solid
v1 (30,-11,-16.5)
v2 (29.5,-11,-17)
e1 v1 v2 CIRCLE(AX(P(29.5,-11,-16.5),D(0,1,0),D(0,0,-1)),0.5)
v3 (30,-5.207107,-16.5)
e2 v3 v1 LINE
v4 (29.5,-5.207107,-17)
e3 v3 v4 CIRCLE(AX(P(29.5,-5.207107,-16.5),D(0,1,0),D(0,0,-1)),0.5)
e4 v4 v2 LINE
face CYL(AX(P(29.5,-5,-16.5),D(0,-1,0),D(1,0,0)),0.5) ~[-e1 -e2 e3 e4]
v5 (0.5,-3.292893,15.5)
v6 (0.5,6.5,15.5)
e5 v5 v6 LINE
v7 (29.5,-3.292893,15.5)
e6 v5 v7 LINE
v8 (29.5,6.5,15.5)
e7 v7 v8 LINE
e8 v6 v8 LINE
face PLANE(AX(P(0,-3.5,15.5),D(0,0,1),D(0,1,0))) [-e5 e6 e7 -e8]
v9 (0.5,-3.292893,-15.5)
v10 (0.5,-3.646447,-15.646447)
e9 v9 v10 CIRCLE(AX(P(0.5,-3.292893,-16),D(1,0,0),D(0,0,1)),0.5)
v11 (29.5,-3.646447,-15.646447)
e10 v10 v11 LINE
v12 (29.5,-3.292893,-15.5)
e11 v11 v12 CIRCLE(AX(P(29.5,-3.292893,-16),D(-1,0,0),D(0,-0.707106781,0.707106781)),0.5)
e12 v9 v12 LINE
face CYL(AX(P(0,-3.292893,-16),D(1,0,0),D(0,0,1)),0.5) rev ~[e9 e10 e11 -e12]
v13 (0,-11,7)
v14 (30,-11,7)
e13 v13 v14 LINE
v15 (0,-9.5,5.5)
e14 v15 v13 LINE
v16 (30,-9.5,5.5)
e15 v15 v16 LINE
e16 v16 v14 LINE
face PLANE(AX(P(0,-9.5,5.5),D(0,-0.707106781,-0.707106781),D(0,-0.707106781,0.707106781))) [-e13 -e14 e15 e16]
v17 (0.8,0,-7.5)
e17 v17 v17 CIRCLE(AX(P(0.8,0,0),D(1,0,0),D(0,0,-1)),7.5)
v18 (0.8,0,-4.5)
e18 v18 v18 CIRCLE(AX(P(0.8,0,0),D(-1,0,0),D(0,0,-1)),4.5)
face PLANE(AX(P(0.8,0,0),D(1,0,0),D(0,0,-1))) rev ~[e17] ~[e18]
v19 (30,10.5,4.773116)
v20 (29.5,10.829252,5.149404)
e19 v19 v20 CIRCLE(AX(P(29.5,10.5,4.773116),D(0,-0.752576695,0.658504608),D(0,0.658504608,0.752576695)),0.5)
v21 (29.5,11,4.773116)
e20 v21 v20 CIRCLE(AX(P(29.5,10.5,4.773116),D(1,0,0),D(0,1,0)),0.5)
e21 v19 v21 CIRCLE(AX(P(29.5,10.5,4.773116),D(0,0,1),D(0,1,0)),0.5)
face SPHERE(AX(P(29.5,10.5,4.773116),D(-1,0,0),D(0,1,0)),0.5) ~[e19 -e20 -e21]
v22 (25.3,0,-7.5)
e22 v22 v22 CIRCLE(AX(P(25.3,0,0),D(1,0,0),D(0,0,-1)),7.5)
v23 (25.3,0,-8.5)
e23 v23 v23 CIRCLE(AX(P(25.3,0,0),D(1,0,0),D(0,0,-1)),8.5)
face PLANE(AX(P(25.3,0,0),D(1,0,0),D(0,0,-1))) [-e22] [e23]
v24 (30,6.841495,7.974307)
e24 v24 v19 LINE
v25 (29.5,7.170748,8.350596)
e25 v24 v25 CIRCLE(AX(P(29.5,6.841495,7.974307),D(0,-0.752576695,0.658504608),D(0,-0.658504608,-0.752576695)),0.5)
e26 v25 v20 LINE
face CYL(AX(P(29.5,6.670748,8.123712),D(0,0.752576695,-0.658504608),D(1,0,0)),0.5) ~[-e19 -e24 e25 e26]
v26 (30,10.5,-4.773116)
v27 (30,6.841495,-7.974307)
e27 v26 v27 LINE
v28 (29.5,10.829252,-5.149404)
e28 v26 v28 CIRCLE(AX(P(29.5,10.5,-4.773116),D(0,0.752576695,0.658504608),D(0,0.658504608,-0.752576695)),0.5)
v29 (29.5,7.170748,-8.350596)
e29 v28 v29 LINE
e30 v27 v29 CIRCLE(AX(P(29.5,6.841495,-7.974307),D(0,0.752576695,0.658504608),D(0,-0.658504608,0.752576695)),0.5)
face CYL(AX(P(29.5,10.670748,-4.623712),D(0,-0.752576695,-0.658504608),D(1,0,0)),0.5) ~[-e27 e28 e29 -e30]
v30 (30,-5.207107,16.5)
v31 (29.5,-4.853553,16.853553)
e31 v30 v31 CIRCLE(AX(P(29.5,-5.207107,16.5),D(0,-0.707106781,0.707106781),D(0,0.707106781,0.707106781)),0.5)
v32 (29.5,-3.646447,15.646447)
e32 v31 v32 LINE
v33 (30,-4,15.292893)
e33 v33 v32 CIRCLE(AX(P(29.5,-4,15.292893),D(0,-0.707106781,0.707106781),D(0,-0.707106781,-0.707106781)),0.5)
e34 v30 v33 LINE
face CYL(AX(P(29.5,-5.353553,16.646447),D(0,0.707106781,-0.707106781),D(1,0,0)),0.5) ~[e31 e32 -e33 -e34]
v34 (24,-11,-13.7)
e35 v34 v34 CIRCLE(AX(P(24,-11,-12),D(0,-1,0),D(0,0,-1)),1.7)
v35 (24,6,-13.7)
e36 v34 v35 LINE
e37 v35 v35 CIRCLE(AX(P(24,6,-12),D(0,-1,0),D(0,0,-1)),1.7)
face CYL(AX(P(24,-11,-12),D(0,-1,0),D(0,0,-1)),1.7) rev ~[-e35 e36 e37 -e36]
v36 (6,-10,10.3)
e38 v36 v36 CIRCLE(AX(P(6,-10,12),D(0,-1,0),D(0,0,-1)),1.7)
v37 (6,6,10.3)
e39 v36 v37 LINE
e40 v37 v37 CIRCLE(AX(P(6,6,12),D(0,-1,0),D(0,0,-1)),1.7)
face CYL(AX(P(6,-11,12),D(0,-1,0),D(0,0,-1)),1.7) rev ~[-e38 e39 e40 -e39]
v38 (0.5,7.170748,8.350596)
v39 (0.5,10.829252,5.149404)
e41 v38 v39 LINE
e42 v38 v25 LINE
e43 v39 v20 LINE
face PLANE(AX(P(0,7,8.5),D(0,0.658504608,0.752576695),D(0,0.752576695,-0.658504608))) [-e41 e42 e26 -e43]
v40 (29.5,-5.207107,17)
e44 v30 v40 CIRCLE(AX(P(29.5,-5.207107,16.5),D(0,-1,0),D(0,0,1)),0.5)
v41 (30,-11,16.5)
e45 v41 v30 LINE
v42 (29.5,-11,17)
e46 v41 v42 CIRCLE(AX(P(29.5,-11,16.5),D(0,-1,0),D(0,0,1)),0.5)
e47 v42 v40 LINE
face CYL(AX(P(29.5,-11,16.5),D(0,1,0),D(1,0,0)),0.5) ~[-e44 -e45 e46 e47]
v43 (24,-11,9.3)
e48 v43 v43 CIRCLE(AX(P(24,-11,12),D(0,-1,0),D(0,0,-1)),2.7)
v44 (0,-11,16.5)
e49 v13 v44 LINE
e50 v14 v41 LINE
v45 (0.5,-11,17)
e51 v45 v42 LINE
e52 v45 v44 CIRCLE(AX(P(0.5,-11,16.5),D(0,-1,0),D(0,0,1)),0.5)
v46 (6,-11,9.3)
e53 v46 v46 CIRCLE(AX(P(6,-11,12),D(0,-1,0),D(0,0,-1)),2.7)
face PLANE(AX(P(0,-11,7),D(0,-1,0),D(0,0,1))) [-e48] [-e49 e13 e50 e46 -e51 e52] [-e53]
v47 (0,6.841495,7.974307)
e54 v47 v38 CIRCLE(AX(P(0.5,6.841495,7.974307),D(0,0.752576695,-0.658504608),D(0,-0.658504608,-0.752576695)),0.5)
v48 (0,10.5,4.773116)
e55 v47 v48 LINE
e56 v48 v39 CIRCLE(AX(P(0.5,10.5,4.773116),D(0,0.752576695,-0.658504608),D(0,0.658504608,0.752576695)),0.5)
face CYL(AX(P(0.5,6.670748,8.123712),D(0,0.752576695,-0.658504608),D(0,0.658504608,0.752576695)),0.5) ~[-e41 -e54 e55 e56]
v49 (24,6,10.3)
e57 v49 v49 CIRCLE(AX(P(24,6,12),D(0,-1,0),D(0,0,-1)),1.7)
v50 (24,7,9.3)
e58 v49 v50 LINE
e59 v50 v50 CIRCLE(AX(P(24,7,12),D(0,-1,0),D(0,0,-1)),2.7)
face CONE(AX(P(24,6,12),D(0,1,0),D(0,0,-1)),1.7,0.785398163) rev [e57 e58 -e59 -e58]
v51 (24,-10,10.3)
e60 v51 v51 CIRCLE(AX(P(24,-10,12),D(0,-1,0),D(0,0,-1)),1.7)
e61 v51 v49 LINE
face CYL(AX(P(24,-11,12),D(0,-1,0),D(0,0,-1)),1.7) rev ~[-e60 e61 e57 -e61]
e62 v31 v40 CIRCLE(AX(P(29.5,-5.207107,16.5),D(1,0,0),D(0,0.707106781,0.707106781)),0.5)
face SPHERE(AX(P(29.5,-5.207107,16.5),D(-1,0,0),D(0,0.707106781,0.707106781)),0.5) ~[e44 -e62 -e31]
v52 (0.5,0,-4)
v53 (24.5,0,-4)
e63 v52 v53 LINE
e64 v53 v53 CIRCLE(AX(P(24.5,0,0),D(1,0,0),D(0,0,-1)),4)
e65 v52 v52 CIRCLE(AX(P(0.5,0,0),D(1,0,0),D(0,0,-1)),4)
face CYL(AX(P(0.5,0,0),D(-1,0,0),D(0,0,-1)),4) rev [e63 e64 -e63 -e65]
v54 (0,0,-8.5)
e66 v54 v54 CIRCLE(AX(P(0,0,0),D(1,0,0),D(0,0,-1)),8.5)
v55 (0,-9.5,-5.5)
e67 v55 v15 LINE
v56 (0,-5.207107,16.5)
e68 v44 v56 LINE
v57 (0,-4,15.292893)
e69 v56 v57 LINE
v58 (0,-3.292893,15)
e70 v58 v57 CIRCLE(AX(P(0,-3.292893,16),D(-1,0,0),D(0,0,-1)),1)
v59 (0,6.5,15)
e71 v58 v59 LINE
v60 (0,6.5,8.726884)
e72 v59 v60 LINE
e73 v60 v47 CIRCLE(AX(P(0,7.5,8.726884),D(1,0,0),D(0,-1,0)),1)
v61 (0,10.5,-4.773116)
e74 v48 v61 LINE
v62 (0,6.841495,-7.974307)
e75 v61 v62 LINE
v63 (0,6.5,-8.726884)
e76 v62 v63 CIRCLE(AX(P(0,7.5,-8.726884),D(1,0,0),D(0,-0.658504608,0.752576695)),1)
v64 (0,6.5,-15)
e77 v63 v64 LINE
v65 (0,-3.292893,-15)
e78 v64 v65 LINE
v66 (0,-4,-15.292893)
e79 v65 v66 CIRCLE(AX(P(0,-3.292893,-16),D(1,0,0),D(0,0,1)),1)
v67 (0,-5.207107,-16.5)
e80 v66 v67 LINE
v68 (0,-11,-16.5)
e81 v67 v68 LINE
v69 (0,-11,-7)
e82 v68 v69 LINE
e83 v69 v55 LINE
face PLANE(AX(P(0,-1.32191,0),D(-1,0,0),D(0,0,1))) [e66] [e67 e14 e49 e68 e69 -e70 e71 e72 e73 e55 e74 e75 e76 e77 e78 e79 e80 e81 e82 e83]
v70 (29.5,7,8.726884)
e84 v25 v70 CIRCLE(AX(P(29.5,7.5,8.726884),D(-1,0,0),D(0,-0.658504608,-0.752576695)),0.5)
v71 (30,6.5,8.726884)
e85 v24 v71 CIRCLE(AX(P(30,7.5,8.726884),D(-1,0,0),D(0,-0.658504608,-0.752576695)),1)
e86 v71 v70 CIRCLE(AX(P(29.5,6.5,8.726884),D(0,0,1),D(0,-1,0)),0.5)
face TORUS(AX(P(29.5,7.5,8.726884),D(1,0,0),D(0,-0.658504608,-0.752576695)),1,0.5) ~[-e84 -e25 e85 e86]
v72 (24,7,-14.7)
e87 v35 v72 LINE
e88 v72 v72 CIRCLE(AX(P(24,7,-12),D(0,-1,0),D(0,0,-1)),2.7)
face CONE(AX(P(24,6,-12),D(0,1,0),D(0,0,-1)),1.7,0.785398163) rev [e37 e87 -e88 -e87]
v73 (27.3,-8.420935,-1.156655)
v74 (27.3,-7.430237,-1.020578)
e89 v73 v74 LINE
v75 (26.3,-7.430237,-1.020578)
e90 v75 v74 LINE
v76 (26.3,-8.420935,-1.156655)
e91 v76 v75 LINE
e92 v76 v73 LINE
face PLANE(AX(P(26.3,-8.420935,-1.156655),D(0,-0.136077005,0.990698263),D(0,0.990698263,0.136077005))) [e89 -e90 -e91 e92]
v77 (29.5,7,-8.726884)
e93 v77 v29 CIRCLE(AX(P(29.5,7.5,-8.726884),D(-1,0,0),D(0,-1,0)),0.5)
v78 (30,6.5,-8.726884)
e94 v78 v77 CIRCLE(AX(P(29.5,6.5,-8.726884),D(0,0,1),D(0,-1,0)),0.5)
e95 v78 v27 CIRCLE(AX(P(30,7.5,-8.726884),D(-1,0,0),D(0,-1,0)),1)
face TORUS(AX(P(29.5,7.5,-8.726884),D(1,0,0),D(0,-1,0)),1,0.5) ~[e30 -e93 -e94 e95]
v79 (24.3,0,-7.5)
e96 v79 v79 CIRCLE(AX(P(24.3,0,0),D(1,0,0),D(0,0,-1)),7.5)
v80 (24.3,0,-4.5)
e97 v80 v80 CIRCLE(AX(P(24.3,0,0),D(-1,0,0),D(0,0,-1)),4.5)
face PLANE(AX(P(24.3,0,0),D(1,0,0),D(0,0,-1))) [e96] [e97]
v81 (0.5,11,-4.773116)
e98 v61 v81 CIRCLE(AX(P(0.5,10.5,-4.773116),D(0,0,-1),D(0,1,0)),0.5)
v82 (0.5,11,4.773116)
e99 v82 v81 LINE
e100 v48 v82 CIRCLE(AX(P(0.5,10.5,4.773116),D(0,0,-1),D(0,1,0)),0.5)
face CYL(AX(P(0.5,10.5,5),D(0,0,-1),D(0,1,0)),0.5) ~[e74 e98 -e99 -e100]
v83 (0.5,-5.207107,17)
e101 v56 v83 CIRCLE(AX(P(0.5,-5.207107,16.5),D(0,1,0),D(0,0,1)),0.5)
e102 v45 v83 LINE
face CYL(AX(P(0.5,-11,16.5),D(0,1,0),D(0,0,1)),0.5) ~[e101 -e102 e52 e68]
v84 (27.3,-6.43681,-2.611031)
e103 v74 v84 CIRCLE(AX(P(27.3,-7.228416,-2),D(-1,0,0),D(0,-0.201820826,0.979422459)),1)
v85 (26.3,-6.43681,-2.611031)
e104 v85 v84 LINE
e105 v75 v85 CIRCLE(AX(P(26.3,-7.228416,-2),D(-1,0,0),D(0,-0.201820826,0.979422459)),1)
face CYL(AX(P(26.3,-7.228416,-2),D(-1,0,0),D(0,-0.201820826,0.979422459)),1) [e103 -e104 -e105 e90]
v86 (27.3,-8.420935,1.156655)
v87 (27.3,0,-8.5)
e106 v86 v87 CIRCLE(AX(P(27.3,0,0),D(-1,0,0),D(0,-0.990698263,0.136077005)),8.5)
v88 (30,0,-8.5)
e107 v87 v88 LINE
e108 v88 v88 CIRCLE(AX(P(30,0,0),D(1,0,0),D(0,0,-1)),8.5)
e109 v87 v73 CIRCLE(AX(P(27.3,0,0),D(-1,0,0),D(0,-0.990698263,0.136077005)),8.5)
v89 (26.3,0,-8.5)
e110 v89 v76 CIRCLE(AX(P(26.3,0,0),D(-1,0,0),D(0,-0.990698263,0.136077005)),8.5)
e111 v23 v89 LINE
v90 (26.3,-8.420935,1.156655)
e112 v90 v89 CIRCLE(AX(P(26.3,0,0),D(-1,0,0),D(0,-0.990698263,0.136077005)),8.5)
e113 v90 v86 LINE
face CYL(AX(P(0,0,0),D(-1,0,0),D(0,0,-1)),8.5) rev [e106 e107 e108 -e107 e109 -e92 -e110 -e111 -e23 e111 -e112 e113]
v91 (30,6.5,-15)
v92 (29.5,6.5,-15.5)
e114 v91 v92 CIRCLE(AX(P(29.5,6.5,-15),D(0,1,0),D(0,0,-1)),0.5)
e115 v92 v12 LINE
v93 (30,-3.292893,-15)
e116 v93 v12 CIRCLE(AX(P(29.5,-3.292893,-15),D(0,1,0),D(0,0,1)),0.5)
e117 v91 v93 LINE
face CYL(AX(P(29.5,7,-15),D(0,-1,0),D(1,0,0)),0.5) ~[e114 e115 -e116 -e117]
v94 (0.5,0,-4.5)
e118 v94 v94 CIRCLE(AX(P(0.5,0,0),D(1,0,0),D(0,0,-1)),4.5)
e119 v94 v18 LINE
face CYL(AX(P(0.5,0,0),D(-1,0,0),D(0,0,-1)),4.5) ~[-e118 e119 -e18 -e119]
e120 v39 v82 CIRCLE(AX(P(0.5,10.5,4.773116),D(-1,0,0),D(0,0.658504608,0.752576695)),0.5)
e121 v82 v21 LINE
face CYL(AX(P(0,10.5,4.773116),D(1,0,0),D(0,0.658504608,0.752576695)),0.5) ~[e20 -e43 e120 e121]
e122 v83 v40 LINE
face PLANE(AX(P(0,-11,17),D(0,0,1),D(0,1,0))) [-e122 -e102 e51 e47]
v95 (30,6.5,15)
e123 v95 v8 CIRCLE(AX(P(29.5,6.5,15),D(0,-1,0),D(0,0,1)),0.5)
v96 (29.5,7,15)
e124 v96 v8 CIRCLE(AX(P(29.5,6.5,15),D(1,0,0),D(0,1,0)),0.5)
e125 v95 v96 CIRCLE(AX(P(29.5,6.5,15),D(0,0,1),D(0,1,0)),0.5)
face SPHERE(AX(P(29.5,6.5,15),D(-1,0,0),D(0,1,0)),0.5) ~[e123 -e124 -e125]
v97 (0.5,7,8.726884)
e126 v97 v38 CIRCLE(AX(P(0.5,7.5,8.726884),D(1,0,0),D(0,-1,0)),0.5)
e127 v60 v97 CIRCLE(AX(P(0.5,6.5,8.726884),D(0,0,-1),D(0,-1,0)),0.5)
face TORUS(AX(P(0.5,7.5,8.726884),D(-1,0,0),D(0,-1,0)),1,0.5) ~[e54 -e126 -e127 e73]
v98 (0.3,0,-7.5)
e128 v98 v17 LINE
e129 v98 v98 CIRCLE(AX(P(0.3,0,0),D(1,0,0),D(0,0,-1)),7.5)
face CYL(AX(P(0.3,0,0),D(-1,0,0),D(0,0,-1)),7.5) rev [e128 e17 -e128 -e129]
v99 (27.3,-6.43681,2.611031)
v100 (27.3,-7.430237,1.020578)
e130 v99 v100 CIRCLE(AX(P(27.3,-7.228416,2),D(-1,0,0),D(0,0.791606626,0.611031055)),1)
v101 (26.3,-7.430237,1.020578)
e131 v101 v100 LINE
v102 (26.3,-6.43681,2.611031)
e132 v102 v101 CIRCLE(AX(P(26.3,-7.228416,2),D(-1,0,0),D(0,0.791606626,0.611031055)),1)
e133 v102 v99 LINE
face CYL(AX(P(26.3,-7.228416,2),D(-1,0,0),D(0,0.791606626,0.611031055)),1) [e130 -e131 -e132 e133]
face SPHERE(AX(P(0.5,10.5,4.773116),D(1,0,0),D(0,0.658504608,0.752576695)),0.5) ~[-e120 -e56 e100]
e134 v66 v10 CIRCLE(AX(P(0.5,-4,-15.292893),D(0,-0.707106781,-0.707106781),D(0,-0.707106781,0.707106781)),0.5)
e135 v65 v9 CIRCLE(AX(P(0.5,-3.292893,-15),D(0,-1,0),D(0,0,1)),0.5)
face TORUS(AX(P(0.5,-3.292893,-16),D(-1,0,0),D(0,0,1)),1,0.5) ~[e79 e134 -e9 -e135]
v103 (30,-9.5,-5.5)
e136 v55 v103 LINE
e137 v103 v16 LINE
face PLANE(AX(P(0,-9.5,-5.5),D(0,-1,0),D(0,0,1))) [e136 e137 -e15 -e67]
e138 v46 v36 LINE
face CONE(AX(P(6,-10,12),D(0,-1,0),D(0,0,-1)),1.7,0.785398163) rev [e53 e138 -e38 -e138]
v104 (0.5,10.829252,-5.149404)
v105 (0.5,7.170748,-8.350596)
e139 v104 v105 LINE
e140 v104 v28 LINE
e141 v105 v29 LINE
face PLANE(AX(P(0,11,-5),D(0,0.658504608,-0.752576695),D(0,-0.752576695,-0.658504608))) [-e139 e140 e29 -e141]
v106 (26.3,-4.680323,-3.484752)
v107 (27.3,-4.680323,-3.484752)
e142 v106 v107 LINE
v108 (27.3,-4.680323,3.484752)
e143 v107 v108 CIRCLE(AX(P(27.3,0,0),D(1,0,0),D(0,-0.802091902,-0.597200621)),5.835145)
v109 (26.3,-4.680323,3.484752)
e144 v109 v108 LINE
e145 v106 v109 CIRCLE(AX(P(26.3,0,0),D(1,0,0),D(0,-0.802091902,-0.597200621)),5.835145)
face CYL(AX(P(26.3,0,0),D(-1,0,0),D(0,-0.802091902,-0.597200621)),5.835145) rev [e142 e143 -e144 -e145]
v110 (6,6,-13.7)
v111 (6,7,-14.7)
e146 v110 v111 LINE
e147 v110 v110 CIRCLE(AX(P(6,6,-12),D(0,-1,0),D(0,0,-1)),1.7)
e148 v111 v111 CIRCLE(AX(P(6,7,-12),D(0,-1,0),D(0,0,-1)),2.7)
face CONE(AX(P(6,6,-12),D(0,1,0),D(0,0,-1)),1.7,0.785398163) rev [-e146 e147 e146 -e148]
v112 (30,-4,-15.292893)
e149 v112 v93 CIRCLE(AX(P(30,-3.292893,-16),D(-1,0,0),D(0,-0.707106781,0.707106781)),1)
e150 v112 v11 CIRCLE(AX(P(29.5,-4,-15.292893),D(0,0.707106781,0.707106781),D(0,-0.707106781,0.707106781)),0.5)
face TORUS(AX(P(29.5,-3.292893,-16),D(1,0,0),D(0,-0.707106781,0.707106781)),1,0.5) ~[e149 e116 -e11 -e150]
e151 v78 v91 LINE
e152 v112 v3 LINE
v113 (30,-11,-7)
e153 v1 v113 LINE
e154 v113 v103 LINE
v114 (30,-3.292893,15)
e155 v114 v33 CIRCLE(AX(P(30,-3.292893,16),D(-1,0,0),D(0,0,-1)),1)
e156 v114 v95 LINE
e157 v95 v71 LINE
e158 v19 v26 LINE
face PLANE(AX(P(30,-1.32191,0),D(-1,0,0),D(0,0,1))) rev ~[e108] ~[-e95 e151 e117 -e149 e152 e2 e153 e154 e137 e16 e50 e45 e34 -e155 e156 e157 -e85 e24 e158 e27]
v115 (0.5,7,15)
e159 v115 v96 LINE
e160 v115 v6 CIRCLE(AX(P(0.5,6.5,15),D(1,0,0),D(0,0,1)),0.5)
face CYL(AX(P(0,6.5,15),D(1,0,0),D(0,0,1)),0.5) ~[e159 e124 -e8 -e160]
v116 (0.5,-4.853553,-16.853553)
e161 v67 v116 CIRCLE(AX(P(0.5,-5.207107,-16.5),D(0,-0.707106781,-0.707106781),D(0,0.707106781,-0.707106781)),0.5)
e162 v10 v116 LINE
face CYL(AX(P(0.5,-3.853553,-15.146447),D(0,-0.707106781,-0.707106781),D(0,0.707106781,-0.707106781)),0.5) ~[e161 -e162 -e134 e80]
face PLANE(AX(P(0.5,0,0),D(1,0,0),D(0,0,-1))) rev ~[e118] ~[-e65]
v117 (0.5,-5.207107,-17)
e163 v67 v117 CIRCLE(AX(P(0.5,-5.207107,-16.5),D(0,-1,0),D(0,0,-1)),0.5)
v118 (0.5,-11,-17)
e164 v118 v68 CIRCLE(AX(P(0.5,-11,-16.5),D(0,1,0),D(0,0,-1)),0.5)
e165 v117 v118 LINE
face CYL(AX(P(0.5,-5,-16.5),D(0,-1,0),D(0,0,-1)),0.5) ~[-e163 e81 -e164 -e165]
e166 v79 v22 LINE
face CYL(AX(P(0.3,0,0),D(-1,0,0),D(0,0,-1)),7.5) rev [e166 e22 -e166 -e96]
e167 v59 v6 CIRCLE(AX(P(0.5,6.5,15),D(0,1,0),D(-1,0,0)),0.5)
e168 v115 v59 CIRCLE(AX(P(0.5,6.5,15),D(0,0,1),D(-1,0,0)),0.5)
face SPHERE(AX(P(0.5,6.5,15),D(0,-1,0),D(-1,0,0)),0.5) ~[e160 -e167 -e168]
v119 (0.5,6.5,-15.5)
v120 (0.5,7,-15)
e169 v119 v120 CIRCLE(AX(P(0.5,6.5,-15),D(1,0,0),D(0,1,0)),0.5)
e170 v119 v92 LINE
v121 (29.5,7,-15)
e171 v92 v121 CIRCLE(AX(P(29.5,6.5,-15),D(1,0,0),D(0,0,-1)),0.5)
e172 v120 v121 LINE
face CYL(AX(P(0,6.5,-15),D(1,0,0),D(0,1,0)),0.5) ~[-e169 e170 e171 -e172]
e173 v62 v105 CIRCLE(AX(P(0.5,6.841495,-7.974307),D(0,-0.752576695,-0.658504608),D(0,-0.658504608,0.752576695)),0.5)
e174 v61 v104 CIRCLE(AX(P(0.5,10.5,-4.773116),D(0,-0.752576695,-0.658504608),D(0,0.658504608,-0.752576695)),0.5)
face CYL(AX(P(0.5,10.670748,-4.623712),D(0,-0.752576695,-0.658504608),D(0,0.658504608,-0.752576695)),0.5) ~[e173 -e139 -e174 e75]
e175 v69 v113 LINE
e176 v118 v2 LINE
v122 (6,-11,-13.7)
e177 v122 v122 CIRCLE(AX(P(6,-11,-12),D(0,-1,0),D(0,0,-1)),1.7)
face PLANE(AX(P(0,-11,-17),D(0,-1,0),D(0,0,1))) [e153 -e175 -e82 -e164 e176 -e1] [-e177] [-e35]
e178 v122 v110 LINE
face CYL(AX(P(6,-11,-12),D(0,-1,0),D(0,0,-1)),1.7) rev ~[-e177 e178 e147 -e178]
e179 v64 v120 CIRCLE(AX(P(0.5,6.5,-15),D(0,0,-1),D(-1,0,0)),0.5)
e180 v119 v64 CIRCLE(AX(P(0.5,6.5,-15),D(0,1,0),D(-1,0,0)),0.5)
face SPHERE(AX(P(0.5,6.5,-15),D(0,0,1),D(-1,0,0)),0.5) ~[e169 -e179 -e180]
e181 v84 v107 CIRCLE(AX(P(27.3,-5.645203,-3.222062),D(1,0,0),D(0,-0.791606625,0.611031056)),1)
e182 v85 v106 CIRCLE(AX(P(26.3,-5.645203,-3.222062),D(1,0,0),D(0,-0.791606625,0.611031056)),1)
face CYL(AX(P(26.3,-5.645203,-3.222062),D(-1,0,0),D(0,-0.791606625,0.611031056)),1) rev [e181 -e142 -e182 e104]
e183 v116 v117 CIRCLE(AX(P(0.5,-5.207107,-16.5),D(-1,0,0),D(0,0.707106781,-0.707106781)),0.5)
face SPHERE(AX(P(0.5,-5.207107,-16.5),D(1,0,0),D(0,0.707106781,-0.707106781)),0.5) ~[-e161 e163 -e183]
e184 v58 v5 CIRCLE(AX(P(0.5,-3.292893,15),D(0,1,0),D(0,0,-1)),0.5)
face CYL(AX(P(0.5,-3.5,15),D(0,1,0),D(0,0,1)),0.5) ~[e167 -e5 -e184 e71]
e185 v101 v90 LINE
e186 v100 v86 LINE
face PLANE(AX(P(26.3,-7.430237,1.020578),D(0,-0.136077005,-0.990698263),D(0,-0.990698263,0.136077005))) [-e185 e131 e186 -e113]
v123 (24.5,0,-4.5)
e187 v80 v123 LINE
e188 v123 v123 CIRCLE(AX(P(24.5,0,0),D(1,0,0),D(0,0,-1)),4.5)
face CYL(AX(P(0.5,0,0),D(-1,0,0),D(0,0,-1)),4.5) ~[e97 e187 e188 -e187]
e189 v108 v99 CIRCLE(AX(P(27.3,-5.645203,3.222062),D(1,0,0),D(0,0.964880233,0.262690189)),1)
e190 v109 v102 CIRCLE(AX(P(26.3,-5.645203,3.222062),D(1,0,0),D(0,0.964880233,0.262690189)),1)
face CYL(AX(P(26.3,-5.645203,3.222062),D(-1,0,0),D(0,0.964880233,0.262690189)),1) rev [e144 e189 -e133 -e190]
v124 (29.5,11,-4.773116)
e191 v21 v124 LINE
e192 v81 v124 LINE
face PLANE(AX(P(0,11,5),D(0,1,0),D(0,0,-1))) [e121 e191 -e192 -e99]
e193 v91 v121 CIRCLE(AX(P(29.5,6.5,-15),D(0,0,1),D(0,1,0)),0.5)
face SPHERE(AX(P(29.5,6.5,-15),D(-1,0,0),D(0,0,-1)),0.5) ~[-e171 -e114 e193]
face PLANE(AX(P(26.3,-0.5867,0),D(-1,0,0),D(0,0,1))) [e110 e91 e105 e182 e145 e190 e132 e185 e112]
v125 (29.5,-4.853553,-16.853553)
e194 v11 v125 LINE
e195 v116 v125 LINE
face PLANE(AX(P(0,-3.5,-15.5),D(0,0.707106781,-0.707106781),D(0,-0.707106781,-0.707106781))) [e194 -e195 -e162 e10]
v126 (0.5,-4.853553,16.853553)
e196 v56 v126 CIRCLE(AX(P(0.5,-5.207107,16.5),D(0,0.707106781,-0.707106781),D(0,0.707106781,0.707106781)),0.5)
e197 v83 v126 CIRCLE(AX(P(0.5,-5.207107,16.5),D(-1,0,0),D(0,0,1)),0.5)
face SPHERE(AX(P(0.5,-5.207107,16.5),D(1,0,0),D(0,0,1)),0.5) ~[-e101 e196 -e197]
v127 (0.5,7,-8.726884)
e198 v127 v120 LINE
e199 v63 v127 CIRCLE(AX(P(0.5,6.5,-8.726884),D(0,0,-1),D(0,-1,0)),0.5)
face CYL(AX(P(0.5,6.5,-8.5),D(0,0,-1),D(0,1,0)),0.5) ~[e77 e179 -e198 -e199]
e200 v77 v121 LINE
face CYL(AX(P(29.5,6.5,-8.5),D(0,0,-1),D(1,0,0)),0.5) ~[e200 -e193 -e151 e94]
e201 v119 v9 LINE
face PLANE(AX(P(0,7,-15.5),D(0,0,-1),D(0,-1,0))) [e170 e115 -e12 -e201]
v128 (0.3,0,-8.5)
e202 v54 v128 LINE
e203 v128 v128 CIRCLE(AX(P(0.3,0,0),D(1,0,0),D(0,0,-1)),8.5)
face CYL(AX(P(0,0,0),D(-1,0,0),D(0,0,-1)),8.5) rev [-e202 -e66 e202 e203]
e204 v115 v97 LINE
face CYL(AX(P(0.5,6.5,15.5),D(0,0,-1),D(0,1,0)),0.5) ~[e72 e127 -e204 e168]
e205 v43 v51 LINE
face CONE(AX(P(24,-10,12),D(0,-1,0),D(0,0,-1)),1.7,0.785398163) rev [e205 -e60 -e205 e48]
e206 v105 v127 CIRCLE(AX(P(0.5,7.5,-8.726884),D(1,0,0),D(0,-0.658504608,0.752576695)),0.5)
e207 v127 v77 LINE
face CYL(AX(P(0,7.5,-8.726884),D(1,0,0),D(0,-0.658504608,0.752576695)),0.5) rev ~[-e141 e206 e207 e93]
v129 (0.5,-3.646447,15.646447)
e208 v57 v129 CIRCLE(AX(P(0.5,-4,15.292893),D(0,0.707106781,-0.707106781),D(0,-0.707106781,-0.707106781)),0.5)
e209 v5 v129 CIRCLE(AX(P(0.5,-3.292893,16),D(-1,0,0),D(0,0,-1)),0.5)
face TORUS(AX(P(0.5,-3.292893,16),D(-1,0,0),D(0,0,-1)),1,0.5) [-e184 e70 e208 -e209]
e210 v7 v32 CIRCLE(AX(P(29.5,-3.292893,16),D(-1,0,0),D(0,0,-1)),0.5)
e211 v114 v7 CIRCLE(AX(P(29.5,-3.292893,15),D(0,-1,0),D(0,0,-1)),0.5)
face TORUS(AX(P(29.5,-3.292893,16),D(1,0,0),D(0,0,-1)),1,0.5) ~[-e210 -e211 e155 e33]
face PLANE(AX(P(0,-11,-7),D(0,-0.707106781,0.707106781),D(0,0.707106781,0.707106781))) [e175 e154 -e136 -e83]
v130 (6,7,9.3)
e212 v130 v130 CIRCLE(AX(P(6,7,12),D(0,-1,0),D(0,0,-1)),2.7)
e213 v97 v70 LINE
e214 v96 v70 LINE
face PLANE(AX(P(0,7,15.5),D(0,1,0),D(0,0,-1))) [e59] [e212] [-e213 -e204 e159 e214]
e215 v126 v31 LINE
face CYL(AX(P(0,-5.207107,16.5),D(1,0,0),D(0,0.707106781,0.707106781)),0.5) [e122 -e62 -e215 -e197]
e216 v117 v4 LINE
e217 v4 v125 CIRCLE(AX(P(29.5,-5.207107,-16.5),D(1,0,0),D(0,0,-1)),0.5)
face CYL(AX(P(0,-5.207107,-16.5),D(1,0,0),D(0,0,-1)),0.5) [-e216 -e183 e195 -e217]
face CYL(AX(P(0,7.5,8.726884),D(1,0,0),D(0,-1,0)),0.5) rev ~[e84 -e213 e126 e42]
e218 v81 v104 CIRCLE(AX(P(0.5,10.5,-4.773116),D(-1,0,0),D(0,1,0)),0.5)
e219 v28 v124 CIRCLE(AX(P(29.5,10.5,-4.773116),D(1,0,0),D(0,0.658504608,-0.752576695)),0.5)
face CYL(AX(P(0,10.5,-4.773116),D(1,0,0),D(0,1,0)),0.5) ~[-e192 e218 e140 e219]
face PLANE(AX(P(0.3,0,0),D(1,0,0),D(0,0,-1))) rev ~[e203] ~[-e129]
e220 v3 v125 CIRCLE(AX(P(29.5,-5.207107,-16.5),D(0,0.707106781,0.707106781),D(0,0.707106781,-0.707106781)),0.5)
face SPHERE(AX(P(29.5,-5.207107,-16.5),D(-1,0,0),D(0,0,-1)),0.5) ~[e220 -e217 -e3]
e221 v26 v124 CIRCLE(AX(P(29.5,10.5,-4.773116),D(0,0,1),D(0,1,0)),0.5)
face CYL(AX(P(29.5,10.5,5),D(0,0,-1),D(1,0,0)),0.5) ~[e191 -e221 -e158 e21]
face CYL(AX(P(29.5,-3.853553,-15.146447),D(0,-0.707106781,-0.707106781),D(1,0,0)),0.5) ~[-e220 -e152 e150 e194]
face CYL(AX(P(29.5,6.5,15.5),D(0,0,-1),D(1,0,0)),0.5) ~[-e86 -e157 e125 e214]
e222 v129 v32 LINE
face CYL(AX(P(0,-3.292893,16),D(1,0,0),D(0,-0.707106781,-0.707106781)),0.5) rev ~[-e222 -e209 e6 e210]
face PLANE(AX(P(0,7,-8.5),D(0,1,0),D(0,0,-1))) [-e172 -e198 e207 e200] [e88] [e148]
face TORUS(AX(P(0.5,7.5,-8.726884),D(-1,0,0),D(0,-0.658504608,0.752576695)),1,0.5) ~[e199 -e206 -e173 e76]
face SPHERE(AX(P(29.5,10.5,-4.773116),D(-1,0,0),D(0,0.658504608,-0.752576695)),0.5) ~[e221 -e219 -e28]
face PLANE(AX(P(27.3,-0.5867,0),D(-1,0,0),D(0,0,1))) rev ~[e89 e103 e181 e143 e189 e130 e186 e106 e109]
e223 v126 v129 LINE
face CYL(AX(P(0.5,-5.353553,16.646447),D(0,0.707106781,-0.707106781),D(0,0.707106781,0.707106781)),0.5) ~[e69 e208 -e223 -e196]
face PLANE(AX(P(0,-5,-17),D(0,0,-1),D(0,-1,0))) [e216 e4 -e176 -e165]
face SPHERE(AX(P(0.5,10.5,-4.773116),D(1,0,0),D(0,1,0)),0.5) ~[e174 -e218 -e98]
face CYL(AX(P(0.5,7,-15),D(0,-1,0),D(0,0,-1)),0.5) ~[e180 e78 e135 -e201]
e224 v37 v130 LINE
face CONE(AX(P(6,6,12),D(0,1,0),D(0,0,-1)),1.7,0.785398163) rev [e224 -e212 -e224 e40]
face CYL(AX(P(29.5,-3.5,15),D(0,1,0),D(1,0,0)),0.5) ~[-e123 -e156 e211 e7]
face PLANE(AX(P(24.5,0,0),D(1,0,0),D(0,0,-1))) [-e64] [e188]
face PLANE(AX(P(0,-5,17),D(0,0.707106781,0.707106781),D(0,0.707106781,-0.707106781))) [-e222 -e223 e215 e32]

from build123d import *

# Parameters (mm, degrees)
SKETCH1_R           = 8.5
BOSS_EXTRUDE1_DEPTH = 30
EXTRUDE_THIN1_START = 0.5
SKETCH1_4_R         = 4.5
SKETCH1_4_R_2       = 4
EXTRUDE_THIN1_DEPTH = 24
BOSS_EXTRUDE2_START = 0.8
SKETCH1_5_R         = 7.5
SKETCH1_5_R_2       = 4
BOSS_EXTRUDE2_DEPTH = 23.5
BOSS_EXTRUDE3_START = 0.3
SKETCH1_6_R         = 8.5
SKETCH1_6_R_2       = 7.5
BOSS_EXTRUDE3_DEPTH = 25
BOSS_EXTRUDE4_START = 1
BOSS_EXTRUDE4_DEPTH = 1
FILLET1_R           = 0.5
SKETCH4_R           = 1.7
CUT_EXTRUDE3_DEPTH  = 41.902322746
CHAMFER1_SIZE       = 1


with BuildPart() as part:
    # Sketch1 → Boss-Extrude1 (new body)
    with BuildSketch(Plane(origin=(0, 0, 0), x_dir=(0, 0, -1), z_dir=(1, 0, 0))):
        Polygon((-17, -5), (-15.5, -3.5), (-15.5, 7), (-8.5, 7), (-5, 11), (5, 11), (8.5, 7), (15.5, 7), (15.5, -3.5), (17, -5), (17, -11), (7, -11), (5.5, -9.5), (-5.5, -9.5), (-7, -11), (-17, -11), align=None)
        Circle(SKETCH1_R, mode=Mode.SUBTRACT)
    extrude(amount=BOSS_EXTRUDE1_DEPTH)



with BuildPart() as body_2:
    # Sketch1<4> → Extrude-Thin1 (new body)
    with BuildSketch(Plane(origin=(0, 0, 0), x_dir=(0, 0, -1), z_dir=(1, 0, 0)).offset(EXTRUDE_THIN1_START)):
        Circle(SKETCH1_4_R)
        Circle(SKETCH1_4_R_2, mode=Mode.SUBTRACT)
    extrude(amount=EXTRUDE_THIN1_DEPTH)

    # Sketch1<5> → Boss-Extrude2 (add)
    with BuildSketch(Plane(origin=(0, 0, 0), x_dir=(0, 0, -1), z_dir=(1, 0, 0)).offset(BOSS_EXTRUDE2_START)):
        Circle(SKETCH1_5_R)
        Circle(SKETCH1_5_R_2, mode=Mode.SUBTRACT)
    extrude(amount=BOSS_EXTRUDE2_DEPTH)


with BuildPart() as part_1:
    add(part.part)

    add(body_2.part)  # Boss-Extrude3 merges body 2
    # Sketch1<6> → Boss-Extrude3 (add)
    with BuildSketch(Plane(origin=(0, 0, 0), x_dir=(0, 0, -1), z_dir=(1, 0, 0)).offset(BOSS_EXTRUDE3_START)):
        Circle(SKETCH1_6_R)
        Circle(SKETCH1_6_R_2, mode=Mode.SUBTRACT)
    extrude(amount=BOSS_EXTRUDE3_DEPTH)

    # Sketch3 → Boss-Extrude4 (add)
    with BuildSketch(Plane(origin=(25.3, 0, 0), x_dir=(0, 0, -1), z_dir=(1, 0, 0)).offset(BOSS_EXTRUDE4_START)):
        with BuildLine():
            Line((-1.020577541, -7.430236974), (-1.156654546, -8.420935237))
            ThreePointArc((-1.156654546, -8.420935237), (0, 8.5), (1.156654546, -8.420935237))
            Line((1.156654546, -8.420935237), (1.020577541, -7.430236974))
            ThreePointArc((1.020577541, -7.430236974), (1.470233465, -6.380272635), (2.611031056, -6.436809522))
            ThreePointArc((2.611031056, -6.436809522), (4.117409452, -6.090571441), (3.484752301, -4.680322664))
            ThreePointArc((3.484752301, -4.680322664), (0, 5.835145143), (-3.484752301, -4.680322664))
            ThreePointArc((-3.484752301, -4.680322664), (-4.117409452, -6.090571441), (-2.611031056, -6.436809522))
            ThreePointArc((-2.611031056, -6.436809522), (-1.470233465, -6.380272635), (-1.020577541, -7.430236974))
        make_face()
    extrude(amount=BOSS_EXTRUDE4_DEPTH)

    # Fillet1
    fillet1_edges = [part_1.edges().sort_by_distance(p)[0] for p in [
        (30, -4.25, 16.25),
        (30, -8, 17),
        (0, 1.75, 15.5),
        (0, 7, 12),
        (0, 9, 6.75),
        (0, 11, 0),
        (0, 9, -6.75),
        (0, 7, -12),
        (0, 1.75, -15.5),
        (0, -4.25, -16.25),
        (0, -8, -17),
        (0, -8, 17),
        (0, -4.25, 16.25),
        (15, -3.5, 15.5),
        (15, 7, 15.5),
        (15, 7, 8.5),
        (15, 11, 5),
        (15, 11, -5),
        (15, 7, -8.5),
        (15, 7, -15.5),
        (15, -3.5, -15.5),
        (15, -5, -17),
        (15, -5, 17),
        (30, -8, -17),
        (30, -4.25, -16.25),
        (30, 1.75, -15.5),
        (30, 7, -12),
        (30, 9, -6.75),
        (30, 11, 0),
        (30, 9, 6.75),
        (30, 7, 12),
        (30, 1.75, 15.5),
    ]]
    fillet(fillet1_edges, radius=FILLET1_R)

    # Sketch4 → Cut-Extrude3 (cut, through all)
    with BuildSketch(Plane.XZ.offset(11)):
        with Locations(Location((6, 12, 0), (0, 0, 270))):
            Circle(SKETCH4_R)
        with Locations(Location((24, 12, 0), (0, 0, 270))):
            Circle(SKETCH4_R)
        with Locations(Location((24, -12, 0), (0, 0, 270))):
            Circle(SKETCH4_R)
        with Locations(Location((6, -12, 0), (0, 0, 270))):
            Circle(SKETCH4_R)
    extrude(amount=-CUT_EXTRUDE3_DEPTH, mode=Mode.SUBTRACT)

    # Chamfer1
    chamfer1_edges = [part_1.edges().sort_by_distance(p)[0] for p in [
        (6, 7, -10.3),
        (24, 7, -10.3),
        (24, 7, 13.7),
        (24, -11, 13.7),
        (6, 7, 13.7),
        (6, -11, 13.7),
    ]]
    chamfer(chamfer1_edges, length=CHAMFER1_SIZE)


solid = part_1.part
